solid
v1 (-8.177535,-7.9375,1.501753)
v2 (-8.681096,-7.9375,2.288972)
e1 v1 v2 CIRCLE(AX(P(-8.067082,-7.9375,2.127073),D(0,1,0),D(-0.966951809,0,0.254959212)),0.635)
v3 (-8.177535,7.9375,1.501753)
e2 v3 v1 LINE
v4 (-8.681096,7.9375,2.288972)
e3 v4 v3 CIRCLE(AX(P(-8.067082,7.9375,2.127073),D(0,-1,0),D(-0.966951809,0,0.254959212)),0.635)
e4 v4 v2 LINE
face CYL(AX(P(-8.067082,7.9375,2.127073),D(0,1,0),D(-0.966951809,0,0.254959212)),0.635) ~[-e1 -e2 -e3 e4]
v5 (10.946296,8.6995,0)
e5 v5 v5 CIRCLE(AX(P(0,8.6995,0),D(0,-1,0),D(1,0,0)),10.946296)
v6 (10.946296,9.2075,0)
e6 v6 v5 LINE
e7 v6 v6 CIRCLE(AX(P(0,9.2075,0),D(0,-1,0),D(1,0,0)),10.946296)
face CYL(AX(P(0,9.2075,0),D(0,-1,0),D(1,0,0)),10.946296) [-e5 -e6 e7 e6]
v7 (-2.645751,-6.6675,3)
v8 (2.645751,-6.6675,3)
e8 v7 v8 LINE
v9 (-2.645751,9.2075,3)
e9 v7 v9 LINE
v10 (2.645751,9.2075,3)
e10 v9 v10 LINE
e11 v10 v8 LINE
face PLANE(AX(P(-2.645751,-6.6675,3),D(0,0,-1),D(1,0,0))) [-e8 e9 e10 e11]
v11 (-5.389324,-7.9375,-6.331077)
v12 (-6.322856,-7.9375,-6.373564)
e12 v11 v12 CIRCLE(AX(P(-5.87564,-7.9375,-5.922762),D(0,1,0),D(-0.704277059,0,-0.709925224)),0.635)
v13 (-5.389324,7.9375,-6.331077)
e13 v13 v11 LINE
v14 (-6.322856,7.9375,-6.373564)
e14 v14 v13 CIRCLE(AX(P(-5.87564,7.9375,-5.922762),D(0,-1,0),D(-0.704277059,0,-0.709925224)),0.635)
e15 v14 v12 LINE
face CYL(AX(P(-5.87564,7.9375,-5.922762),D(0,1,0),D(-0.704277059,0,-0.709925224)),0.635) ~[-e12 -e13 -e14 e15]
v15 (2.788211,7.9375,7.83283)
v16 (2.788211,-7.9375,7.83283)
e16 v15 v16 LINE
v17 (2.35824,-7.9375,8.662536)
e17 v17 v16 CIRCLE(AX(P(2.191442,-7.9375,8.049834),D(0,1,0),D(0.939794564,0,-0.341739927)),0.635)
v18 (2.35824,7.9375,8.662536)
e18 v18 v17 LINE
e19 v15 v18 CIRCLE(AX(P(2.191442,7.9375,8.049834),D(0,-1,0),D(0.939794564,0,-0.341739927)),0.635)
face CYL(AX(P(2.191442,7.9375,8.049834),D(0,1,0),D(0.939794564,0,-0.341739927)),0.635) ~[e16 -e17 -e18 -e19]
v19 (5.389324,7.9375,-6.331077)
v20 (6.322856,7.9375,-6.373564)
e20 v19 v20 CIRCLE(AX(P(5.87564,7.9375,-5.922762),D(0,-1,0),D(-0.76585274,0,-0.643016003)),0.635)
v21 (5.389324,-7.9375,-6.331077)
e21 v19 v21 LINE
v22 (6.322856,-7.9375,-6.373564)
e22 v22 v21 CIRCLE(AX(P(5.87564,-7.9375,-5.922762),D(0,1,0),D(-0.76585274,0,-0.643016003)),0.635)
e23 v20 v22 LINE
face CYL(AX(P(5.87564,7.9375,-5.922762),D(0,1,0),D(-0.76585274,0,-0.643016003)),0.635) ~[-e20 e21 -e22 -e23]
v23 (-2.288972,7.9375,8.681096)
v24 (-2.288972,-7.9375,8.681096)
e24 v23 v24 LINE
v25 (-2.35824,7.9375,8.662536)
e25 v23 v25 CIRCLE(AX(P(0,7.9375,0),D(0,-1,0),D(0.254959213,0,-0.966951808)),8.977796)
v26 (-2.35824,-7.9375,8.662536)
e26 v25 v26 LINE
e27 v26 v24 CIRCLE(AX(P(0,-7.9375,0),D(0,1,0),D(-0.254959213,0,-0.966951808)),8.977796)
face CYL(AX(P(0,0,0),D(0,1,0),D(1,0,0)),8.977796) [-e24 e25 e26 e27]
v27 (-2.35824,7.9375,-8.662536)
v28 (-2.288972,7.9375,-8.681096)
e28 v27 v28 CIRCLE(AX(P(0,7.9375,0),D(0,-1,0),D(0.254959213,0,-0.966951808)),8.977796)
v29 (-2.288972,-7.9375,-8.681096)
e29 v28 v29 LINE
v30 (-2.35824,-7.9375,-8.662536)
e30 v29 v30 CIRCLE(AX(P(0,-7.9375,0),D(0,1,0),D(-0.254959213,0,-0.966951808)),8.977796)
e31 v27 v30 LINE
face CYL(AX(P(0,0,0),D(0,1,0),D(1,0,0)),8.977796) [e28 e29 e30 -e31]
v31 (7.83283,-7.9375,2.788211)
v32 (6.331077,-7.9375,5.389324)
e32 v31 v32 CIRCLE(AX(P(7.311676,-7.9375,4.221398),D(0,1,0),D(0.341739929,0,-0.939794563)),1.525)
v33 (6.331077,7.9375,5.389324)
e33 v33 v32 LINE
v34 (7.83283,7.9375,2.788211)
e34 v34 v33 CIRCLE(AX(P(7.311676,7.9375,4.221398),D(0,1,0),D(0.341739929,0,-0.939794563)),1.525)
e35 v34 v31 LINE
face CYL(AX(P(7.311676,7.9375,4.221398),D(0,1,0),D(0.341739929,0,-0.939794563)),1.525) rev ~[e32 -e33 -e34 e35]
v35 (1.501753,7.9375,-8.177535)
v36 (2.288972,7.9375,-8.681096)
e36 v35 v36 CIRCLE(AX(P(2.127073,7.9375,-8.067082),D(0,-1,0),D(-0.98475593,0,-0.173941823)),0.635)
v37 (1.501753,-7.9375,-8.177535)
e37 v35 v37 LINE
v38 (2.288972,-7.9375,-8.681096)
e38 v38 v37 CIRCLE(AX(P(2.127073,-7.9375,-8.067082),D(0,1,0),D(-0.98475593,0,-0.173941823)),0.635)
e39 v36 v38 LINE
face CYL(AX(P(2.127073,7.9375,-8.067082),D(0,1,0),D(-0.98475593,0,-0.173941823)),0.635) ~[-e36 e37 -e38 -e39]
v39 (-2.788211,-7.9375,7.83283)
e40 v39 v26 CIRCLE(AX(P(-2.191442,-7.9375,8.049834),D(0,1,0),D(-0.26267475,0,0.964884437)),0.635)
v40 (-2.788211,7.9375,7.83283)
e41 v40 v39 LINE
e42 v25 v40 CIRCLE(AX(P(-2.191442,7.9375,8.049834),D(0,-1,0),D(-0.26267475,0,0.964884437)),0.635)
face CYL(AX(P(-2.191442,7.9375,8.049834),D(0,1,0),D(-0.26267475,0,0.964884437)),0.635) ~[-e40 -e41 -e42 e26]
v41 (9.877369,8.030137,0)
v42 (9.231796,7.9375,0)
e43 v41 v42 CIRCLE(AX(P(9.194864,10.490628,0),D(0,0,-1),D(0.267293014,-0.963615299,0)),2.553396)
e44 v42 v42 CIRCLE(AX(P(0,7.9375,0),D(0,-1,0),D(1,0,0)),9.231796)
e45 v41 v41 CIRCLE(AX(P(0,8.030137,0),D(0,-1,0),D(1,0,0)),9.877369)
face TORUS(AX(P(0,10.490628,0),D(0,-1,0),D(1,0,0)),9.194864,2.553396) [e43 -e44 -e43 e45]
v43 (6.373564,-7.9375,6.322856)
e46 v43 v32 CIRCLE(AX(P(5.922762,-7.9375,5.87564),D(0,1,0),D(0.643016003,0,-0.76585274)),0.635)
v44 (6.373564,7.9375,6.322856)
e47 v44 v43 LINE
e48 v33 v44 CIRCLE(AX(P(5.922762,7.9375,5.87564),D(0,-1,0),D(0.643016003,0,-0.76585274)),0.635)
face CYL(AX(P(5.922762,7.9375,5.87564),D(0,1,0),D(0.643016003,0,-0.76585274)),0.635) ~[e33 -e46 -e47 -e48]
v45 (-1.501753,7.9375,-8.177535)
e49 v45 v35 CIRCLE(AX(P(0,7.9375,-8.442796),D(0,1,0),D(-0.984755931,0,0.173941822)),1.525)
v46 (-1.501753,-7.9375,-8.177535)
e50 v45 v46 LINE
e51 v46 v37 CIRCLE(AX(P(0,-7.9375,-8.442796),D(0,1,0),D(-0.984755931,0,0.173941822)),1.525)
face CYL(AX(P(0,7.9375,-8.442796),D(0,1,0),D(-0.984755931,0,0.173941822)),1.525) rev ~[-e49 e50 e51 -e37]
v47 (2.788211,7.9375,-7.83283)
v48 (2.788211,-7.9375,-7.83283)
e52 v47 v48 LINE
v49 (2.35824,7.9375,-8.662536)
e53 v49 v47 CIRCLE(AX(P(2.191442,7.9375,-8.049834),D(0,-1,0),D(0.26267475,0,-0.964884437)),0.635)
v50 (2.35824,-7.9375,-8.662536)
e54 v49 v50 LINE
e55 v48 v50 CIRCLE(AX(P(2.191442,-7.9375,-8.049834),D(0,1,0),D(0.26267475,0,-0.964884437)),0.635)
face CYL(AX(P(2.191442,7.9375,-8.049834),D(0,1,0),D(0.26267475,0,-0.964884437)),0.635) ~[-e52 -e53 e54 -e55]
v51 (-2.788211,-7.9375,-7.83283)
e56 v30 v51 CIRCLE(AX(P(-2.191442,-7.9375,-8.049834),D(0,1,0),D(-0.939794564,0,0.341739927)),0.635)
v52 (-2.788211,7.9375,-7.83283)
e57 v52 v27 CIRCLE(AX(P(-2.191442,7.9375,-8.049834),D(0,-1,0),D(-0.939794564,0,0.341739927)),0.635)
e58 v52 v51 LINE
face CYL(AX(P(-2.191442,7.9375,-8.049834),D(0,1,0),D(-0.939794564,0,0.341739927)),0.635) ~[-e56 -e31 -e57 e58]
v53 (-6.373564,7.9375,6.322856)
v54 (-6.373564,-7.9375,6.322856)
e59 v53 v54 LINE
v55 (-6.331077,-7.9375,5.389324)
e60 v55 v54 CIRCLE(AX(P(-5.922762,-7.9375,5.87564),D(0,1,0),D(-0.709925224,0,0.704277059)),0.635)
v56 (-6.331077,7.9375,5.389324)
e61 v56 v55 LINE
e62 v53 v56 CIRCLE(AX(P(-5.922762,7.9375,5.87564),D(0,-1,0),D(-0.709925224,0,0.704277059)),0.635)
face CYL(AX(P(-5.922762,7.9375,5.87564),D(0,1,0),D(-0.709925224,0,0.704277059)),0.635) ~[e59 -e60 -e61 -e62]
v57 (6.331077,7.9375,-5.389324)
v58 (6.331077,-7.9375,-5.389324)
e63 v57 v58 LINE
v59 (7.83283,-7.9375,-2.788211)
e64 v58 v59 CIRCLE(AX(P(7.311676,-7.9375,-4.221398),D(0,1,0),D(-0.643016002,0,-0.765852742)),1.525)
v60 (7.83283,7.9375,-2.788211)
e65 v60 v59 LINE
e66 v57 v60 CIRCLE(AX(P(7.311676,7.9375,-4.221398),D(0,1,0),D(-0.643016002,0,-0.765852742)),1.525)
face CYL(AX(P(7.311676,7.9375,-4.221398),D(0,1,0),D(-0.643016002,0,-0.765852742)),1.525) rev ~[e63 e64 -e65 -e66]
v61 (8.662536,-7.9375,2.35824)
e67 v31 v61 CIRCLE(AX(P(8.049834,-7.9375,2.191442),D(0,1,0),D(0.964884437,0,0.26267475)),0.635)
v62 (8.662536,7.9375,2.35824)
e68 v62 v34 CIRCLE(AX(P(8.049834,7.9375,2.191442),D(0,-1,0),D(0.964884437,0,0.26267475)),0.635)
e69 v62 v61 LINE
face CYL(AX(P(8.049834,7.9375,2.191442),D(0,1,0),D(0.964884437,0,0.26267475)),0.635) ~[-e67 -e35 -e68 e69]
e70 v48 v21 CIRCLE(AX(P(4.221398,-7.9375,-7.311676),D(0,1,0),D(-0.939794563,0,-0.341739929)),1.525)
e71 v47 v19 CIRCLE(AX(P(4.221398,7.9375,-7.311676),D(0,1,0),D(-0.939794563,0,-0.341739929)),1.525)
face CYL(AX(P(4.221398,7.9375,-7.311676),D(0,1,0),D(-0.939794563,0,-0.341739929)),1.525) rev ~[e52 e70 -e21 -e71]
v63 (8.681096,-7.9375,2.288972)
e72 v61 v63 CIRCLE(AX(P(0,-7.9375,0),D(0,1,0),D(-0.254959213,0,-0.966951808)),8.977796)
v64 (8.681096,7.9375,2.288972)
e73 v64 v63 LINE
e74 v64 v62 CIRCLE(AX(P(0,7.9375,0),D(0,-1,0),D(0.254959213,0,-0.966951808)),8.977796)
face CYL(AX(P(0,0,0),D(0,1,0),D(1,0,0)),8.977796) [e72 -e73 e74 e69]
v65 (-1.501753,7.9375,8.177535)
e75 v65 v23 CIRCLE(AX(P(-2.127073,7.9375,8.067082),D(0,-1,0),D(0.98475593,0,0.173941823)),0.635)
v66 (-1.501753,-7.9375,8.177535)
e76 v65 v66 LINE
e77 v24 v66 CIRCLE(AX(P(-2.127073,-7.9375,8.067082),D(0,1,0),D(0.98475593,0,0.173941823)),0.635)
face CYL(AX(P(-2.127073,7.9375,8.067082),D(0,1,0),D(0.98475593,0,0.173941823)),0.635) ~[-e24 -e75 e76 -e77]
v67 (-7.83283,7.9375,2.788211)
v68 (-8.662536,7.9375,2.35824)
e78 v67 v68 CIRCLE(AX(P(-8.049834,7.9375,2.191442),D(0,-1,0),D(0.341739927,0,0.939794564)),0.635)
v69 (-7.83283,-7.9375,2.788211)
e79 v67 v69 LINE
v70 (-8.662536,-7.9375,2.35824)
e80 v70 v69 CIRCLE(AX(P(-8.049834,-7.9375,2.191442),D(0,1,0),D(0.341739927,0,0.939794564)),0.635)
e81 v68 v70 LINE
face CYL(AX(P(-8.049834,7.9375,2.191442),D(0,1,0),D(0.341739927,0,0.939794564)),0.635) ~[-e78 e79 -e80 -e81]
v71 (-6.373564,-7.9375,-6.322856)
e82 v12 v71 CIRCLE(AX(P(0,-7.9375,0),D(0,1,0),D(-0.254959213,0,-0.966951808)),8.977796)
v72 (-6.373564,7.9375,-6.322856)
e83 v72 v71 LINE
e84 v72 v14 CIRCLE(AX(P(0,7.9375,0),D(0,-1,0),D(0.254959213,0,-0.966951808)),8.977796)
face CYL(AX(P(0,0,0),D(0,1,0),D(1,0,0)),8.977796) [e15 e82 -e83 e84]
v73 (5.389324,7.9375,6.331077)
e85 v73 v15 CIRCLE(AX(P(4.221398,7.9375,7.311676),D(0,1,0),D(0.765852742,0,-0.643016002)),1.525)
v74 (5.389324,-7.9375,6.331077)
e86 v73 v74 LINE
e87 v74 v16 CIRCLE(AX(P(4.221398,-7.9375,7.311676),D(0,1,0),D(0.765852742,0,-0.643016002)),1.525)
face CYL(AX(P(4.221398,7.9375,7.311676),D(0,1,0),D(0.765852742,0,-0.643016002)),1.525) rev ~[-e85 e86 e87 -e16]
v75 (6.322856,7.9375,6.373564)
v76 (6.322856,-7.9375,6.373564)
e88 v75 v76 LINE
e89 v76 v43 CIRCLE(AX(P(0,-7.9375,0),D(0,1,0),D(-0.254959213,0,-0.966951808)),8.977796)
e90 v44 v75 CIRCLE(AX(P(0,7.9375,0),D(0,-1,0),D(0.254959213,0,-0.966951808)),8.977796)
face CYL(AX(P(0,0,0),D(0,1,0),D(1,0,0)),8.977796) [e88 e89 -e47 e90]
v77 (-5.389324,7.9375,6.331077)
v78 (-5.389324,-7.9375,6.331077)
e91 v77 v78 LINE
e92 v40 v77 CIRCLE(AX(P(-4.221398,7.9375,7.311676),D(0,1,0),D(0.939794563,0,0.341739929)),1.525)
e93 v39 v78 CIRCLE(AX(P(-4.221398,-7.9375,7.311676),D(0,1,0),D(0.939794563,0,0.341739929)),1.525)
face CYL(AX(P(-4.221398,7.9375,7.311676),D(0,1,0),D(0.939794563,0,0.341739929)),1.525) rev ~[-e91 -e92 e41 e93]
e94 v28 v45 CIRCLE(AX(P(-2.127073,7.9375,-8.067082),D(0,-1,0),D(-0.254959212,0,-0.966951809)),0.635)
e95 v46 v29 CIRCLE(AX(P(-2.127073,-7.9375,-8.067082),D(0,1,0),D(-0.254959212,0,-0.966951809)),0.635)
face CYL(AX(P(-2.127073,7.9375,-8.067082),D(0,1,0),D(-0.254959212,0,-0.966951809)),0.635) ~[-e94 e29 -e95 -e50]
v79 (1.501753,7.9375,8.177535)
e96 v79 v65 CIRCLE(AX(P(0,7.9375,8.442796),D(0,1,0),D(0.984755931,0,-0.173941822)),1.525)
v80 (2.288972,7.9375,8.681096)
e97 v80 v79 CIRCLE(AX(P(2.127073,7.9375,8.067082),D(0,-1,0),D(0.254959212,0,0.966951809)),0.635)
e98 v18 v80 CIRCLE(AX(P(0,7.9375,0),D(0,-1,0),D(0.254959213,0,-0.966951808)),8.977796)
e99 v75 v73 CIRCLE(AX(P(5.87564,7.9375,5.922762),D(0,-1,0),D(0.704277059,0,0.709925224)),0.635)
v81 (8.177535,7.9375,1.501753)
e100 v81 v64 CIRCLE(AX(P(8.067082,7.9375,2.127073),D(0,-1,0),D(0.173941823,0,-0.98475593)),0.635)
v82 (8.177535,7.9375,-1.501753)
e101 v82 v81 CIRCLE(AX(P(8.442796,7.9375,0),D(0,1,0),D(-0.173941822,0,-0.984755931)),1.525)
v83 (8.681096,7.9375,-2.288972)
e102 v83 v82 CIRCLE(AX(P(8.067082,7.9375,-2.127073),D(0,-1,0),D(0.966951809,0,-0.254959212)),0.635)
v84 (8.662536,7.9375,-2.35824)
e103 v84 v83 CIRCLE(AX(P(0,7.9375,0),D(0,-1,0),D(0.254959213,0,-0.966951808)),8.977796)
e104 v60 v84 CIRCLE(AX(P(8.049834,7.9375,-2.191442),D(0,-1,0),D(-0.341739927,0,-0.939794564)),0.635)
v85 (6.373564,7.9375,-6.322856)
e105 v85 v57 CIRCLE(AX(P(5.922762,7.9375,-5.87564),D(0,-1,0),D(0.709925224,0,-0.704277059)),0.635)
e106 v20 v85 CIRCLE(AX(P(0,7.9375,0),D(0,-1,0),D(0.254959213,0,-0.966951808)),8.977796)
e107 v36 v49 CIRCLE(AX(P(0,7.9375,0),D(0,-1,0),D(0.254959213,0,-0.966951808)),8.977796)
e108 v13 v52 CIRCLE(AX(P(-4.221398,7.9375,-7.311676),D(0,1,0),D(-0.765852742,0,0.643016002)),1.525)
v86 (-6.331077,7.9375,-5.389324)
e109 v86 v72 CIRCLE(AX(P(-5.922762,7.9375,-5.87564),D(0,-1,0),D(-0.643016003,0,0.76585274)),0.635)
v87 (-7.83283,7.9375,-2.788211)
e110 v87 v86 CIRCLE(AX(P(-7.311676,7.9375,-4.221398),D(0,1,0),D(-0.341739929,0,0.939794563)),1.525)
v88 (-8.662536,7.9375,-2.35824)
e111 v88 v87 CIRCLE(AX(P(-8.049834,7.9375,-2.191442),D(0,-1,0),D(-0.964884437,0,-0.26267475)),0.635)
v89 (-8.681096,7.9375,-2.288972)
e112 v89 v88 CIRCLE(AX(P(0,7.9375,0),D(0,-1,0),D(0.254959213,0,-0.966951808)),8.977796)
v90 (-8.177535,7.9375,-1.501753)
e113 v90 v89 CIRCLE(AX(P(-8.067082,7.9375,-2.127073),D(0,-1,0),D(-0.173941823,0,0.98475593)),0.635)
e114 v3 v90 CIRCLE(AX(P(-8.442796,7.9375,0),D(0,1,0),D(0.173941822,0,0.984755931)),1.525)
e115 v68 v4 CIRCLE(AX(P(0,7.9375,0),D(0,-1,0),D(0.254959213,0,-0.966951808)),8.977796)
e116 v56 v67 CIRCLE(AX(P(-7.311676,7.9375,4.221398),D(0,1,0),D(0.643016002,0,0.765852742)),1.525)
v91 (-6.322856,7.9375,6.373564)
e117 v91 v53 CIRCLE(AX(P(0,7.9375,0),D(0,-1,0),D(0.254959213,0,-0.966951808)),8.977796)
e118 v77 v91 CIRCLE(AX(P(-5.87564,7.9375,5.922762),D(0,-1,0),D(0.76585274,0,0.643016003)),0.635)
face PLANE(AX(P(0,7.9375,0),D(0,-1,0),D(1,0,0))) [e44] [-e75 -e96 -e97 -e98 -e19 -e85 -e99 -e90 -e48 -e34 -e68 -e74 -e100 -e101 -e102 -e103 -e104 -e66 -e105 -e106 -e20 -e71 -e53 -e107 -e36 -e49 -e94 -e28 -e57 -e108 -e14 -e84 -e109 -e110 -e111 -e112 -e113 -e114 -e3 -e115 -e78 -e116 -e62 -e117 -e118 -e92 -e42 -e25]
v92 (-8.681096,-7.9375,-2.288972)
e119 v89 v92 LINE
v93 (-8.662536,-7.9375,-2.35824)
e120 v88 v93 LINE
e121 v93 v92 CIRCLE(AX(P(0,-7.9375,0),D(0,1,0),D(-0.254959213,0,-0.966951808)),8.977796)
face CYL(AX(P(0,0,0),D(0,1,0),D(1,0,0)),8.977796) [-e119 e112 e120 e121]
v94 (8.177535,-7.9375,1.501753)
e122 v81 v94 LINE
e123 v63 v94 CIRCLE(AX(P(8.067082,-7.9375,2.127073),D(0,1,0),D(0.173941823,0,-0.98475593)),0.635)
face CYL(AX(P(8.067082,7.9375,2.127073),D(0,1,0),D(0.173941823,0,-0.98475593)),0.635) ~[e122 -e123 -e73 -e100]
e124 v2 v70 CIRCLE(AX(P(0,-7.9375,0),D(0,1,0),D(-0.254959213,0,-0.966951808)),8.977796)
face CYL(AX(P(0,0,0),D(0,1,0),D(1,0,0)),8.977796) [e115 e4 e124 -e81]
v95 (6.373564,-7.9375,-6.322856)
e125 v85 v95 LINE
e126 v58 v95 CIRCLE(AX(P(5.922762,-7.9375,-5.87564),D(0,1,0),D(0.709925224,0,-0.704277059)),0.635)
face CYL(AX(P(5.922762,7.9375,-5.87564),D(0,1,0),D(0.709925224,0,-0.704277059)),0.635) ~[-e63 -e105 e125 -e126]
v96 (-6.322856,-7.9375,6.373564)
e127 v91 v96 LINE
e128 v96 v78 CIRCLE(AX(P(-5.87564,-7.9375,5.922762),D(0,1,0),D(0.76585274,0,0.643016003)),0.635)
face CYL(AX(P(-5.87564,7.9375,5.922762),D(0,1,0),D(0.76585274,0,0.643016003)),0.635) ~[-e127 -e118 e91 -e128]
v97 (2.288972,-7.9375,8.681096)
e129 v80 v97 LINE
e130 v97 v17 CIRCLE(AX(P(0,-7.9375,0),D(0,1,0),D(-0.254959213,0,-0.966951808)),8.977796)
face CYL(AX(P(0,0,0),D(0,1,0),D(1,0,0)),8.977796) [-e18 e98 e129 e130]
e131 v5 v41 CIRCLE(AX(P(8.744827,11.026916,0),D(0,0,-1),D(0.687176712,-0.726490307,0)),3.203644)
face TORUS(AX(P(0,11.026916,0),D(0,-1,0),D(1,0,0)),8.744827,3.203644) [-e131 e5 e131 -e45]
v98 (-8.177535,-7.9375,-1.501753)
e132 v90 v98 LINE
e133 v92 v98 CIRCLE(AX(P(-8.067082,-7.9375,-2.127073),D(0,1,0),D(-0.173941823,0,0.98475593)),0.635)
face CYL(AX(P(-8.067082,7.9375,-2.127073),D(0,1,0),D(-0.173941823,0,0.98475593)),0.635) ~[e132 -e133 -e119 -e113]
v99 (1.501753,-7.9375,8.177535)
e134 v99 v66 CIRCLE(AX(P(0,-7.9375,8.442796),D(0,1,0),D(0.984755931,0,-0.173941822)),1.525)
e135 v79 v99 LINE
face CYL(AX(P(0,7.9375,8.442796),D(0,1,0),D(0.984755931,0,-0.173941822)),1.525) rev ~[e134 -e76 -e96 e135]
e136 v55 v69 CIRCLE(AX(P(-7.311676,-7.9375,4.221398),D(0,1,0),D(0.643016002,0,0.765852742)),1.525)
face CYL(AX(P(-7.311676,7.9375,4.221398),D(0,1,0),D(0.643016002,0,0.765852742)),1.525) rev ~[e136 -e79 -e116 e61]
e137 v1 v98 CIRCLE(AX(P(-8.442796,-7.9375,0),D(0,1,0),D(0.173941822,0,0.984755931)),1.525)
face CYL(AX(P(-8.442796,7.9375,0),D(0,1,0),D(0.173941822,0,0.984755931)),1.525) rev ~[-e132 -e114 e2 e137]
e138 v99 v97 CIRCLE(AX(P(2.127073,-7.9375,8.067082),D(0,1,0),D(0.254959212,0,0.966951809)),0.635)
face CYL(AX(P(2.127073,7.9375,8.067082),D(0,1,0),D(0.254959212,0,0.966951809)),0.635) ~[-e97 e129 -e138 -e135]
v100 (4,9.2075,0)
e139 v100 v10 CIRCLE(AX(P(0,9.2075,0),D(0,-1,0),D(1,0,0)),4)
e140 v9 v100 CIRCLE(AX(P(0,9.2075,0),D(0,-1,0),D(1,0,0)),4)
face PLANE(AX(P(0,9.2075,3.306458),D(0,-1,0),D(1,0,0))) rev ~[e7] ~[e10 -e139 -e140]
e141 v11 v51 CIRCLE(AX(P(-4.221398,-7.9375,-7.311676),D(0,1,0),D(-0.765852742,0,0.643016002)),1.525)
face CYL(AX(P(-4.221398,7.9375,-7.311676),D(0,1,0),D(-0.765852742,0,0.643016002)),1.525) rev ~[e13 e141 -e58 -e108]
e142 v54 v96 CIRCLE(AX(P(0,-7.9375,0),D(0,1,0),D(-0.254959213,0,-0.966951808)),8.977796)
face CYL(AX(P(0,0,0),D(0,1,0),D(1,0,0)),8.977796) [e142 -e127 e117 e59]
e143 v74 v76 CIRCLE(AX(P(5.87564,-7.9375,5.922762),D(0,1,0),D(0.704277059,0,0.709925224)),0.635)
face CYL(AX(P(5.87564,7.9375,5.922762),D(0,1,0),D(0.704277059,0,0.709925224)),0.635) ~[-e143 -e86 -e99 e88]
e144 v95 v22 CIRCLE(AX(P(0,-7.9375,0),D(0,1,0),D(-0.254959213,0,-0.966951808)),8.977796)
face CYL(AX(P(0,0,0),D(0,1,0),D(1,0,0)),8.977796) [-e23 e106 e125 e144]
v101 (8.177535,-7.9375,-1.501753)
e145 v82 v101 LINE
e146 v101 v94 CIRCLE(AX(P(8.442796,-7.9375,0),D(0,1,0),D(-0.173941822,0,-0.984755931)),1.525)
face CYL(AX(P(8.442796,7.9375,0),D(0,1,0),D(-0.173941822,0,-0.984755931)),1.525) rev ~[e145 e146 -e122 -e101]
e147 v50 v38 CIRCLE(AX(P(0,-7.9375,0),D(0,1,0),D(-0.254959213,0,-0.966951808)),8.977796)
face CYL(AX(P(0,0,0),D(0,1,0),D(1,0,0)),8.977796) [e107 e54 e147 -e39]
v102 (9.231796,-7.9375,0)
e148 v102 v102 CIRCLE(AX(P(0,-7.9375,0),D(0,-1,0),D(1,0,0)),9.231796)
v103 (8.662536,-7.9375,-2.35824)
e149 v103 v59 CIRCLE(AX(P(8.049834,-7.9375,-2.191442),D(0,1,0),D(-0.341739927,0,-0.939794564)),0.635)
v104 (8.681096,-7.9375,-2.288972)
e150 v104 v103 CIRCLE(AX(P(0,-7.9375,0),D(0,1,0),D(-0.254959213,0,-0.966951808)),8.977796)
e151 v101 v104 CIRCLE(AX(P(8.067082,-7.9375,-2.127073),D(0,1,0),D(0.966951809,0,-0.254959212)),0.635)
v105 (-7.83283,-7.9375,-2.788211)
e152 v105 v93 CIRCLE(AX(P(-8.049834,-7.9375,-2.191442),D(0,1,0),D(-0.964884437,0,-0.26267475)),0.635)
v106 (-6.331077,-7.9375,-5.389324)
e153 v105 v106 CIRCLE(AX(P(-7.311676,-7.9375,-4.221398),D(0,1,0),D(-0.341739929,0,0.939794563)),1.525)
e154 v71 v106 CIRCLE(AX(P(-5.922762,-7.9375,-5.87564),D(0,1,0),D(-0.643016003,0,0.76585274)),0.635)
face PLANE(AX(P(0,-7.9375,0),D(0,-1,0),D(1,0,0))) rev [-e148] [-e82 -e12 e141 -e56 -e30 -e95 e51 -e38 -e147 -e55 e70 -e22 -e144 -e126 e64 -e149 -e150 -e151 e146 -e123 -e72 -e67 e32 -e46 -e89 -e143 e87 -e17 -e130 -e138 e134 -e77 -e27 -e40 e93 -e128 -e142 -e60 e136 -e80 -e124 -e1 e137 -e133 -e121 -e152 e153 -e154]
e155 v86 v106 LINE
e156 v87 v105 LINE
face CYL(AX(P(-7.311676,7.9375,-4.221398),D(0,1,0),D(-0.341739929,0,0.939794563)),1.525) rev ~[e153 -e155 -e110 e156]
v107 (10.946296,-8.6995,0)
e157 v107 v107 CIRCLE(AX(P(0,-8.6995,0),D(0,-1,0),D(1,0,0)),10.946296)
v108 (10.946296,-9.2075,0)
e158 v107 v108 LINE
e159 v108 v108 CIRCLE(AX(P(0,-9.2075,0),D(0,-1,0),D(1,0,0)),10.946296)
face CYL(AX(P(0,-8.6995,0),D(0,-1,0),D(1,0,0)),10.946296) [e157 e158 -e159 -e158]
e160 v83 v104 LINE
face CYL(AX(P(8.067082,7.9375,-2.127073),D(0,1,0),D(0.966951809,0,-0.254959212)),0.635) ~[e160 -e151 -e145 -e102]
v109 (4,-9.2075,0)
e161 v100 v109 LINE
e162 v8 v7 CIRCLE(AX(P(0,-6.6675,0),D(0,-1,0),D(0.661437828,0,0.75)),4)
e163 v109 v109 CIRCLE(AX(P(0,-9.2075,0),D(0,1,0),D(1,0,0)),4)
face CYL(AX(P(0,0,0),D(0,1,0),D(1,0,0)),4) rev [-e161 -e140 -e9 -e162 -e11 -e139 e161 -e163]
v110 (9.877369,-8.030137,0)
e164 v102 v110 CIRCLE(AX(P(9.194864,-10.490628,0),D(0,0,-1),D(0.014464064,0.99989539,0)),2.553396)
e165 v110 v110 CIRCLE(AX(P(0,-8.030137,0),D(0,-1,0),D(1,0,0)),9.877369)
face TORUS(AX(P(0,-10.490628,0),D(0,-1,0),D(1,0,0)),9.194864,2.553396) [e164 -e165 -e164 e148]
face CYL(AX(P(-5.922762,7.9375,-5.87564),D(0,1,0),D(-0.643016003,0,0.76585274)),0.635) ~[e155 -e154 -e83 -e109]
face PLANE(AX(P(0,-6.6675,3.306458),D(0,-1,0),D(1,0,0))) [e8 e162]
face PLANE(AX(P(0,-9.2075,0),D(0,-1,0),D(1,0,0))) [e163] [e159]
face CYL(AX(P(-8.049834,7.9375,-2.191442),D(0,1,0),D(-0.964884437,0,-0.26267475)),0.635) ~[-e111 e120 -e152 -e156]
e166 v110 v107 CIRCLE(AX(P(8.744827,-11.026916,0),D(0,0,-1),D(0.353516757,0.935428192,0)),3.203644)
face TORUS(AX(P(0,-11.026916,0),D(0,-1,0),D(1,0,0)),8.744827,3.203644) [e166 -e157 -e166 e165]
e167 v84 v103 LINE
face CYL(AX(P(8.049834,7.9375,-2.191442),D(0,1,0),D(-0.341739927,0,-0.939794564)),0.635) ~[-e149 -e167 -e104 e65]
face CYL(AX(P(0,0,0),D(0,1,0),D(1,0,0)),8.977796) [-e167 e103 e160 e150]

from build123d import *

# Parameters (mm, degrees)
SKETCH1_R           = 8.977796406
TOOTHOD_DEPTH       = 7.9375
TOOTHPROFILE_DEPTH  = 16.875
TOOTHPATTERN_COUNT  = 12
SKETCH7_R           = 4
BORE_DEPTH          = 10.2075
BORE_DEPTH_BACK     = 10.2075
BOSS_EXTRUDE1_START = -2.54
BOSS_EXTRUDE1_DEPTH = 15.875


with BuildPart() as part:
    # Sketch1 → ToothOD (new body, symmetric)
    with BuildSketch(Plane(origin=(0, 0, 0), x_dir=(1, 0, 0), z_dir=(0, 1, 0))):
        Circle(SKETCH1_R)
    extrude(amount=TOOTHOD_DEPTH, both=True)

    # Sketch2 → ToothProfile (cut, through all)
    with BuildSketch(Plane(origin=(0, 7.9375, 0), x_dir=(1, 0, 0), z_dir=(0, 1, 0))):
        with BuildLine():
            ThreePointArc((-1.501752794, 8.177535128), (0, 6.917796406), (1.501752794, 8.177535128))
            ThreePointArc((1.501752794, 8.177535128), (1.784898523, 8.602004268), (2.28897191, 8.681096469))
            ThreePointArc((2.28897191, 8.681096469), (0, 8.977796406), (-2.28897191, 8.681096469))
            ThreePointArc((-2.28897191, 8.681096469), (-1.784898523, 8.602004268), (-1.501752794, 8.177535128))
        make_face()
    toothprofile = extrude(amount=-TOOTHPROFILE_DEPTH, mode=Mode.SUBTRACT)

    # ToothPattern: ToothProfile ×12 about axis
    toothpattern_axis = Axis((0, 0, 0), (0, 1, 0))
    for i in range(1, TOOTHPATTERN_COUNT):
        add(toothprofile.rotate(toothpattern_axis, i * 360 / TOOTHPATTERN_COUNT), mode=Mode.SUBTRACT)

    # Sketch4 → Flange (revolve)
    with BuildSketch(Plane.XY):
        with BuildLine():
            Line((0, -7.9375), (9.231796406, -7.9375))
            ThreePointArc((9.231796406, -7.9375), (9.557552396, -7.963122571), (9.877368734, -8.030137424))
            ThreePointArc((9.877368734, -8.030137424), (10.445097311, -8.311697125), (10.946296406, -8.6995))
            Line((10.946296406, -8.6995), (10.946296406, -9.2075))
            Line((10.946296406, -9.2075), (0, -9.2075))
            Line((0, -9.2075), (0, -7.9375))
        make_face()
        with BuildLine():
            Line((10.946296406, 9.2075), (10.946296406, 8.6995))
            ThreePointArc((10.946296406, 8.6995), (10.445097311, 8.311697125), (9.877368734, 8.030137424))
            ThreePointArc((9.877368734, 8.030137424), (9.557552396, 7.963122571), (9.231796406, 7.9375))
            Line((9.231796406, 7.9375), (0, 7.9375))
            Line((0, 7.9375), (0, 9.2075))
            Line((0, 9.2075), (10.946296406, 9.2075))
        make_face()
    revolve(axis=Axis((0, 12.09802, 0), (0, -1, 0)))

    # Sketch7 → Bore (cut, two sides)
    with BuildSketch(Plane.XZ) as bore_sk:
        Circle(SKETCH7_R)
    extrude(amount=BORE_DEPTH, mode=Mode.SUBTRACT)
    extrude(bore_sk.sketch, amount=-BORE_DEPTH_BACK, mode=Mode.SUBTRACT)

    # Sketch8 → Boss-Extrude1 (add, through all)
    with BuildSketch(Plane.XZ.offset(9.2075).offset(BOSS_EXTRUDE1_START)):
        with BuildLine():
            Line((-2.645751311, 3), (2.645751311, 3))
            ThreePointArc((2.645751311, 3), (0, 4), (-2.645751311, 3))
        make_face()
    extrude(amount=-BOSS_EXTRUDE1_DEPTH)


solid = part.part
